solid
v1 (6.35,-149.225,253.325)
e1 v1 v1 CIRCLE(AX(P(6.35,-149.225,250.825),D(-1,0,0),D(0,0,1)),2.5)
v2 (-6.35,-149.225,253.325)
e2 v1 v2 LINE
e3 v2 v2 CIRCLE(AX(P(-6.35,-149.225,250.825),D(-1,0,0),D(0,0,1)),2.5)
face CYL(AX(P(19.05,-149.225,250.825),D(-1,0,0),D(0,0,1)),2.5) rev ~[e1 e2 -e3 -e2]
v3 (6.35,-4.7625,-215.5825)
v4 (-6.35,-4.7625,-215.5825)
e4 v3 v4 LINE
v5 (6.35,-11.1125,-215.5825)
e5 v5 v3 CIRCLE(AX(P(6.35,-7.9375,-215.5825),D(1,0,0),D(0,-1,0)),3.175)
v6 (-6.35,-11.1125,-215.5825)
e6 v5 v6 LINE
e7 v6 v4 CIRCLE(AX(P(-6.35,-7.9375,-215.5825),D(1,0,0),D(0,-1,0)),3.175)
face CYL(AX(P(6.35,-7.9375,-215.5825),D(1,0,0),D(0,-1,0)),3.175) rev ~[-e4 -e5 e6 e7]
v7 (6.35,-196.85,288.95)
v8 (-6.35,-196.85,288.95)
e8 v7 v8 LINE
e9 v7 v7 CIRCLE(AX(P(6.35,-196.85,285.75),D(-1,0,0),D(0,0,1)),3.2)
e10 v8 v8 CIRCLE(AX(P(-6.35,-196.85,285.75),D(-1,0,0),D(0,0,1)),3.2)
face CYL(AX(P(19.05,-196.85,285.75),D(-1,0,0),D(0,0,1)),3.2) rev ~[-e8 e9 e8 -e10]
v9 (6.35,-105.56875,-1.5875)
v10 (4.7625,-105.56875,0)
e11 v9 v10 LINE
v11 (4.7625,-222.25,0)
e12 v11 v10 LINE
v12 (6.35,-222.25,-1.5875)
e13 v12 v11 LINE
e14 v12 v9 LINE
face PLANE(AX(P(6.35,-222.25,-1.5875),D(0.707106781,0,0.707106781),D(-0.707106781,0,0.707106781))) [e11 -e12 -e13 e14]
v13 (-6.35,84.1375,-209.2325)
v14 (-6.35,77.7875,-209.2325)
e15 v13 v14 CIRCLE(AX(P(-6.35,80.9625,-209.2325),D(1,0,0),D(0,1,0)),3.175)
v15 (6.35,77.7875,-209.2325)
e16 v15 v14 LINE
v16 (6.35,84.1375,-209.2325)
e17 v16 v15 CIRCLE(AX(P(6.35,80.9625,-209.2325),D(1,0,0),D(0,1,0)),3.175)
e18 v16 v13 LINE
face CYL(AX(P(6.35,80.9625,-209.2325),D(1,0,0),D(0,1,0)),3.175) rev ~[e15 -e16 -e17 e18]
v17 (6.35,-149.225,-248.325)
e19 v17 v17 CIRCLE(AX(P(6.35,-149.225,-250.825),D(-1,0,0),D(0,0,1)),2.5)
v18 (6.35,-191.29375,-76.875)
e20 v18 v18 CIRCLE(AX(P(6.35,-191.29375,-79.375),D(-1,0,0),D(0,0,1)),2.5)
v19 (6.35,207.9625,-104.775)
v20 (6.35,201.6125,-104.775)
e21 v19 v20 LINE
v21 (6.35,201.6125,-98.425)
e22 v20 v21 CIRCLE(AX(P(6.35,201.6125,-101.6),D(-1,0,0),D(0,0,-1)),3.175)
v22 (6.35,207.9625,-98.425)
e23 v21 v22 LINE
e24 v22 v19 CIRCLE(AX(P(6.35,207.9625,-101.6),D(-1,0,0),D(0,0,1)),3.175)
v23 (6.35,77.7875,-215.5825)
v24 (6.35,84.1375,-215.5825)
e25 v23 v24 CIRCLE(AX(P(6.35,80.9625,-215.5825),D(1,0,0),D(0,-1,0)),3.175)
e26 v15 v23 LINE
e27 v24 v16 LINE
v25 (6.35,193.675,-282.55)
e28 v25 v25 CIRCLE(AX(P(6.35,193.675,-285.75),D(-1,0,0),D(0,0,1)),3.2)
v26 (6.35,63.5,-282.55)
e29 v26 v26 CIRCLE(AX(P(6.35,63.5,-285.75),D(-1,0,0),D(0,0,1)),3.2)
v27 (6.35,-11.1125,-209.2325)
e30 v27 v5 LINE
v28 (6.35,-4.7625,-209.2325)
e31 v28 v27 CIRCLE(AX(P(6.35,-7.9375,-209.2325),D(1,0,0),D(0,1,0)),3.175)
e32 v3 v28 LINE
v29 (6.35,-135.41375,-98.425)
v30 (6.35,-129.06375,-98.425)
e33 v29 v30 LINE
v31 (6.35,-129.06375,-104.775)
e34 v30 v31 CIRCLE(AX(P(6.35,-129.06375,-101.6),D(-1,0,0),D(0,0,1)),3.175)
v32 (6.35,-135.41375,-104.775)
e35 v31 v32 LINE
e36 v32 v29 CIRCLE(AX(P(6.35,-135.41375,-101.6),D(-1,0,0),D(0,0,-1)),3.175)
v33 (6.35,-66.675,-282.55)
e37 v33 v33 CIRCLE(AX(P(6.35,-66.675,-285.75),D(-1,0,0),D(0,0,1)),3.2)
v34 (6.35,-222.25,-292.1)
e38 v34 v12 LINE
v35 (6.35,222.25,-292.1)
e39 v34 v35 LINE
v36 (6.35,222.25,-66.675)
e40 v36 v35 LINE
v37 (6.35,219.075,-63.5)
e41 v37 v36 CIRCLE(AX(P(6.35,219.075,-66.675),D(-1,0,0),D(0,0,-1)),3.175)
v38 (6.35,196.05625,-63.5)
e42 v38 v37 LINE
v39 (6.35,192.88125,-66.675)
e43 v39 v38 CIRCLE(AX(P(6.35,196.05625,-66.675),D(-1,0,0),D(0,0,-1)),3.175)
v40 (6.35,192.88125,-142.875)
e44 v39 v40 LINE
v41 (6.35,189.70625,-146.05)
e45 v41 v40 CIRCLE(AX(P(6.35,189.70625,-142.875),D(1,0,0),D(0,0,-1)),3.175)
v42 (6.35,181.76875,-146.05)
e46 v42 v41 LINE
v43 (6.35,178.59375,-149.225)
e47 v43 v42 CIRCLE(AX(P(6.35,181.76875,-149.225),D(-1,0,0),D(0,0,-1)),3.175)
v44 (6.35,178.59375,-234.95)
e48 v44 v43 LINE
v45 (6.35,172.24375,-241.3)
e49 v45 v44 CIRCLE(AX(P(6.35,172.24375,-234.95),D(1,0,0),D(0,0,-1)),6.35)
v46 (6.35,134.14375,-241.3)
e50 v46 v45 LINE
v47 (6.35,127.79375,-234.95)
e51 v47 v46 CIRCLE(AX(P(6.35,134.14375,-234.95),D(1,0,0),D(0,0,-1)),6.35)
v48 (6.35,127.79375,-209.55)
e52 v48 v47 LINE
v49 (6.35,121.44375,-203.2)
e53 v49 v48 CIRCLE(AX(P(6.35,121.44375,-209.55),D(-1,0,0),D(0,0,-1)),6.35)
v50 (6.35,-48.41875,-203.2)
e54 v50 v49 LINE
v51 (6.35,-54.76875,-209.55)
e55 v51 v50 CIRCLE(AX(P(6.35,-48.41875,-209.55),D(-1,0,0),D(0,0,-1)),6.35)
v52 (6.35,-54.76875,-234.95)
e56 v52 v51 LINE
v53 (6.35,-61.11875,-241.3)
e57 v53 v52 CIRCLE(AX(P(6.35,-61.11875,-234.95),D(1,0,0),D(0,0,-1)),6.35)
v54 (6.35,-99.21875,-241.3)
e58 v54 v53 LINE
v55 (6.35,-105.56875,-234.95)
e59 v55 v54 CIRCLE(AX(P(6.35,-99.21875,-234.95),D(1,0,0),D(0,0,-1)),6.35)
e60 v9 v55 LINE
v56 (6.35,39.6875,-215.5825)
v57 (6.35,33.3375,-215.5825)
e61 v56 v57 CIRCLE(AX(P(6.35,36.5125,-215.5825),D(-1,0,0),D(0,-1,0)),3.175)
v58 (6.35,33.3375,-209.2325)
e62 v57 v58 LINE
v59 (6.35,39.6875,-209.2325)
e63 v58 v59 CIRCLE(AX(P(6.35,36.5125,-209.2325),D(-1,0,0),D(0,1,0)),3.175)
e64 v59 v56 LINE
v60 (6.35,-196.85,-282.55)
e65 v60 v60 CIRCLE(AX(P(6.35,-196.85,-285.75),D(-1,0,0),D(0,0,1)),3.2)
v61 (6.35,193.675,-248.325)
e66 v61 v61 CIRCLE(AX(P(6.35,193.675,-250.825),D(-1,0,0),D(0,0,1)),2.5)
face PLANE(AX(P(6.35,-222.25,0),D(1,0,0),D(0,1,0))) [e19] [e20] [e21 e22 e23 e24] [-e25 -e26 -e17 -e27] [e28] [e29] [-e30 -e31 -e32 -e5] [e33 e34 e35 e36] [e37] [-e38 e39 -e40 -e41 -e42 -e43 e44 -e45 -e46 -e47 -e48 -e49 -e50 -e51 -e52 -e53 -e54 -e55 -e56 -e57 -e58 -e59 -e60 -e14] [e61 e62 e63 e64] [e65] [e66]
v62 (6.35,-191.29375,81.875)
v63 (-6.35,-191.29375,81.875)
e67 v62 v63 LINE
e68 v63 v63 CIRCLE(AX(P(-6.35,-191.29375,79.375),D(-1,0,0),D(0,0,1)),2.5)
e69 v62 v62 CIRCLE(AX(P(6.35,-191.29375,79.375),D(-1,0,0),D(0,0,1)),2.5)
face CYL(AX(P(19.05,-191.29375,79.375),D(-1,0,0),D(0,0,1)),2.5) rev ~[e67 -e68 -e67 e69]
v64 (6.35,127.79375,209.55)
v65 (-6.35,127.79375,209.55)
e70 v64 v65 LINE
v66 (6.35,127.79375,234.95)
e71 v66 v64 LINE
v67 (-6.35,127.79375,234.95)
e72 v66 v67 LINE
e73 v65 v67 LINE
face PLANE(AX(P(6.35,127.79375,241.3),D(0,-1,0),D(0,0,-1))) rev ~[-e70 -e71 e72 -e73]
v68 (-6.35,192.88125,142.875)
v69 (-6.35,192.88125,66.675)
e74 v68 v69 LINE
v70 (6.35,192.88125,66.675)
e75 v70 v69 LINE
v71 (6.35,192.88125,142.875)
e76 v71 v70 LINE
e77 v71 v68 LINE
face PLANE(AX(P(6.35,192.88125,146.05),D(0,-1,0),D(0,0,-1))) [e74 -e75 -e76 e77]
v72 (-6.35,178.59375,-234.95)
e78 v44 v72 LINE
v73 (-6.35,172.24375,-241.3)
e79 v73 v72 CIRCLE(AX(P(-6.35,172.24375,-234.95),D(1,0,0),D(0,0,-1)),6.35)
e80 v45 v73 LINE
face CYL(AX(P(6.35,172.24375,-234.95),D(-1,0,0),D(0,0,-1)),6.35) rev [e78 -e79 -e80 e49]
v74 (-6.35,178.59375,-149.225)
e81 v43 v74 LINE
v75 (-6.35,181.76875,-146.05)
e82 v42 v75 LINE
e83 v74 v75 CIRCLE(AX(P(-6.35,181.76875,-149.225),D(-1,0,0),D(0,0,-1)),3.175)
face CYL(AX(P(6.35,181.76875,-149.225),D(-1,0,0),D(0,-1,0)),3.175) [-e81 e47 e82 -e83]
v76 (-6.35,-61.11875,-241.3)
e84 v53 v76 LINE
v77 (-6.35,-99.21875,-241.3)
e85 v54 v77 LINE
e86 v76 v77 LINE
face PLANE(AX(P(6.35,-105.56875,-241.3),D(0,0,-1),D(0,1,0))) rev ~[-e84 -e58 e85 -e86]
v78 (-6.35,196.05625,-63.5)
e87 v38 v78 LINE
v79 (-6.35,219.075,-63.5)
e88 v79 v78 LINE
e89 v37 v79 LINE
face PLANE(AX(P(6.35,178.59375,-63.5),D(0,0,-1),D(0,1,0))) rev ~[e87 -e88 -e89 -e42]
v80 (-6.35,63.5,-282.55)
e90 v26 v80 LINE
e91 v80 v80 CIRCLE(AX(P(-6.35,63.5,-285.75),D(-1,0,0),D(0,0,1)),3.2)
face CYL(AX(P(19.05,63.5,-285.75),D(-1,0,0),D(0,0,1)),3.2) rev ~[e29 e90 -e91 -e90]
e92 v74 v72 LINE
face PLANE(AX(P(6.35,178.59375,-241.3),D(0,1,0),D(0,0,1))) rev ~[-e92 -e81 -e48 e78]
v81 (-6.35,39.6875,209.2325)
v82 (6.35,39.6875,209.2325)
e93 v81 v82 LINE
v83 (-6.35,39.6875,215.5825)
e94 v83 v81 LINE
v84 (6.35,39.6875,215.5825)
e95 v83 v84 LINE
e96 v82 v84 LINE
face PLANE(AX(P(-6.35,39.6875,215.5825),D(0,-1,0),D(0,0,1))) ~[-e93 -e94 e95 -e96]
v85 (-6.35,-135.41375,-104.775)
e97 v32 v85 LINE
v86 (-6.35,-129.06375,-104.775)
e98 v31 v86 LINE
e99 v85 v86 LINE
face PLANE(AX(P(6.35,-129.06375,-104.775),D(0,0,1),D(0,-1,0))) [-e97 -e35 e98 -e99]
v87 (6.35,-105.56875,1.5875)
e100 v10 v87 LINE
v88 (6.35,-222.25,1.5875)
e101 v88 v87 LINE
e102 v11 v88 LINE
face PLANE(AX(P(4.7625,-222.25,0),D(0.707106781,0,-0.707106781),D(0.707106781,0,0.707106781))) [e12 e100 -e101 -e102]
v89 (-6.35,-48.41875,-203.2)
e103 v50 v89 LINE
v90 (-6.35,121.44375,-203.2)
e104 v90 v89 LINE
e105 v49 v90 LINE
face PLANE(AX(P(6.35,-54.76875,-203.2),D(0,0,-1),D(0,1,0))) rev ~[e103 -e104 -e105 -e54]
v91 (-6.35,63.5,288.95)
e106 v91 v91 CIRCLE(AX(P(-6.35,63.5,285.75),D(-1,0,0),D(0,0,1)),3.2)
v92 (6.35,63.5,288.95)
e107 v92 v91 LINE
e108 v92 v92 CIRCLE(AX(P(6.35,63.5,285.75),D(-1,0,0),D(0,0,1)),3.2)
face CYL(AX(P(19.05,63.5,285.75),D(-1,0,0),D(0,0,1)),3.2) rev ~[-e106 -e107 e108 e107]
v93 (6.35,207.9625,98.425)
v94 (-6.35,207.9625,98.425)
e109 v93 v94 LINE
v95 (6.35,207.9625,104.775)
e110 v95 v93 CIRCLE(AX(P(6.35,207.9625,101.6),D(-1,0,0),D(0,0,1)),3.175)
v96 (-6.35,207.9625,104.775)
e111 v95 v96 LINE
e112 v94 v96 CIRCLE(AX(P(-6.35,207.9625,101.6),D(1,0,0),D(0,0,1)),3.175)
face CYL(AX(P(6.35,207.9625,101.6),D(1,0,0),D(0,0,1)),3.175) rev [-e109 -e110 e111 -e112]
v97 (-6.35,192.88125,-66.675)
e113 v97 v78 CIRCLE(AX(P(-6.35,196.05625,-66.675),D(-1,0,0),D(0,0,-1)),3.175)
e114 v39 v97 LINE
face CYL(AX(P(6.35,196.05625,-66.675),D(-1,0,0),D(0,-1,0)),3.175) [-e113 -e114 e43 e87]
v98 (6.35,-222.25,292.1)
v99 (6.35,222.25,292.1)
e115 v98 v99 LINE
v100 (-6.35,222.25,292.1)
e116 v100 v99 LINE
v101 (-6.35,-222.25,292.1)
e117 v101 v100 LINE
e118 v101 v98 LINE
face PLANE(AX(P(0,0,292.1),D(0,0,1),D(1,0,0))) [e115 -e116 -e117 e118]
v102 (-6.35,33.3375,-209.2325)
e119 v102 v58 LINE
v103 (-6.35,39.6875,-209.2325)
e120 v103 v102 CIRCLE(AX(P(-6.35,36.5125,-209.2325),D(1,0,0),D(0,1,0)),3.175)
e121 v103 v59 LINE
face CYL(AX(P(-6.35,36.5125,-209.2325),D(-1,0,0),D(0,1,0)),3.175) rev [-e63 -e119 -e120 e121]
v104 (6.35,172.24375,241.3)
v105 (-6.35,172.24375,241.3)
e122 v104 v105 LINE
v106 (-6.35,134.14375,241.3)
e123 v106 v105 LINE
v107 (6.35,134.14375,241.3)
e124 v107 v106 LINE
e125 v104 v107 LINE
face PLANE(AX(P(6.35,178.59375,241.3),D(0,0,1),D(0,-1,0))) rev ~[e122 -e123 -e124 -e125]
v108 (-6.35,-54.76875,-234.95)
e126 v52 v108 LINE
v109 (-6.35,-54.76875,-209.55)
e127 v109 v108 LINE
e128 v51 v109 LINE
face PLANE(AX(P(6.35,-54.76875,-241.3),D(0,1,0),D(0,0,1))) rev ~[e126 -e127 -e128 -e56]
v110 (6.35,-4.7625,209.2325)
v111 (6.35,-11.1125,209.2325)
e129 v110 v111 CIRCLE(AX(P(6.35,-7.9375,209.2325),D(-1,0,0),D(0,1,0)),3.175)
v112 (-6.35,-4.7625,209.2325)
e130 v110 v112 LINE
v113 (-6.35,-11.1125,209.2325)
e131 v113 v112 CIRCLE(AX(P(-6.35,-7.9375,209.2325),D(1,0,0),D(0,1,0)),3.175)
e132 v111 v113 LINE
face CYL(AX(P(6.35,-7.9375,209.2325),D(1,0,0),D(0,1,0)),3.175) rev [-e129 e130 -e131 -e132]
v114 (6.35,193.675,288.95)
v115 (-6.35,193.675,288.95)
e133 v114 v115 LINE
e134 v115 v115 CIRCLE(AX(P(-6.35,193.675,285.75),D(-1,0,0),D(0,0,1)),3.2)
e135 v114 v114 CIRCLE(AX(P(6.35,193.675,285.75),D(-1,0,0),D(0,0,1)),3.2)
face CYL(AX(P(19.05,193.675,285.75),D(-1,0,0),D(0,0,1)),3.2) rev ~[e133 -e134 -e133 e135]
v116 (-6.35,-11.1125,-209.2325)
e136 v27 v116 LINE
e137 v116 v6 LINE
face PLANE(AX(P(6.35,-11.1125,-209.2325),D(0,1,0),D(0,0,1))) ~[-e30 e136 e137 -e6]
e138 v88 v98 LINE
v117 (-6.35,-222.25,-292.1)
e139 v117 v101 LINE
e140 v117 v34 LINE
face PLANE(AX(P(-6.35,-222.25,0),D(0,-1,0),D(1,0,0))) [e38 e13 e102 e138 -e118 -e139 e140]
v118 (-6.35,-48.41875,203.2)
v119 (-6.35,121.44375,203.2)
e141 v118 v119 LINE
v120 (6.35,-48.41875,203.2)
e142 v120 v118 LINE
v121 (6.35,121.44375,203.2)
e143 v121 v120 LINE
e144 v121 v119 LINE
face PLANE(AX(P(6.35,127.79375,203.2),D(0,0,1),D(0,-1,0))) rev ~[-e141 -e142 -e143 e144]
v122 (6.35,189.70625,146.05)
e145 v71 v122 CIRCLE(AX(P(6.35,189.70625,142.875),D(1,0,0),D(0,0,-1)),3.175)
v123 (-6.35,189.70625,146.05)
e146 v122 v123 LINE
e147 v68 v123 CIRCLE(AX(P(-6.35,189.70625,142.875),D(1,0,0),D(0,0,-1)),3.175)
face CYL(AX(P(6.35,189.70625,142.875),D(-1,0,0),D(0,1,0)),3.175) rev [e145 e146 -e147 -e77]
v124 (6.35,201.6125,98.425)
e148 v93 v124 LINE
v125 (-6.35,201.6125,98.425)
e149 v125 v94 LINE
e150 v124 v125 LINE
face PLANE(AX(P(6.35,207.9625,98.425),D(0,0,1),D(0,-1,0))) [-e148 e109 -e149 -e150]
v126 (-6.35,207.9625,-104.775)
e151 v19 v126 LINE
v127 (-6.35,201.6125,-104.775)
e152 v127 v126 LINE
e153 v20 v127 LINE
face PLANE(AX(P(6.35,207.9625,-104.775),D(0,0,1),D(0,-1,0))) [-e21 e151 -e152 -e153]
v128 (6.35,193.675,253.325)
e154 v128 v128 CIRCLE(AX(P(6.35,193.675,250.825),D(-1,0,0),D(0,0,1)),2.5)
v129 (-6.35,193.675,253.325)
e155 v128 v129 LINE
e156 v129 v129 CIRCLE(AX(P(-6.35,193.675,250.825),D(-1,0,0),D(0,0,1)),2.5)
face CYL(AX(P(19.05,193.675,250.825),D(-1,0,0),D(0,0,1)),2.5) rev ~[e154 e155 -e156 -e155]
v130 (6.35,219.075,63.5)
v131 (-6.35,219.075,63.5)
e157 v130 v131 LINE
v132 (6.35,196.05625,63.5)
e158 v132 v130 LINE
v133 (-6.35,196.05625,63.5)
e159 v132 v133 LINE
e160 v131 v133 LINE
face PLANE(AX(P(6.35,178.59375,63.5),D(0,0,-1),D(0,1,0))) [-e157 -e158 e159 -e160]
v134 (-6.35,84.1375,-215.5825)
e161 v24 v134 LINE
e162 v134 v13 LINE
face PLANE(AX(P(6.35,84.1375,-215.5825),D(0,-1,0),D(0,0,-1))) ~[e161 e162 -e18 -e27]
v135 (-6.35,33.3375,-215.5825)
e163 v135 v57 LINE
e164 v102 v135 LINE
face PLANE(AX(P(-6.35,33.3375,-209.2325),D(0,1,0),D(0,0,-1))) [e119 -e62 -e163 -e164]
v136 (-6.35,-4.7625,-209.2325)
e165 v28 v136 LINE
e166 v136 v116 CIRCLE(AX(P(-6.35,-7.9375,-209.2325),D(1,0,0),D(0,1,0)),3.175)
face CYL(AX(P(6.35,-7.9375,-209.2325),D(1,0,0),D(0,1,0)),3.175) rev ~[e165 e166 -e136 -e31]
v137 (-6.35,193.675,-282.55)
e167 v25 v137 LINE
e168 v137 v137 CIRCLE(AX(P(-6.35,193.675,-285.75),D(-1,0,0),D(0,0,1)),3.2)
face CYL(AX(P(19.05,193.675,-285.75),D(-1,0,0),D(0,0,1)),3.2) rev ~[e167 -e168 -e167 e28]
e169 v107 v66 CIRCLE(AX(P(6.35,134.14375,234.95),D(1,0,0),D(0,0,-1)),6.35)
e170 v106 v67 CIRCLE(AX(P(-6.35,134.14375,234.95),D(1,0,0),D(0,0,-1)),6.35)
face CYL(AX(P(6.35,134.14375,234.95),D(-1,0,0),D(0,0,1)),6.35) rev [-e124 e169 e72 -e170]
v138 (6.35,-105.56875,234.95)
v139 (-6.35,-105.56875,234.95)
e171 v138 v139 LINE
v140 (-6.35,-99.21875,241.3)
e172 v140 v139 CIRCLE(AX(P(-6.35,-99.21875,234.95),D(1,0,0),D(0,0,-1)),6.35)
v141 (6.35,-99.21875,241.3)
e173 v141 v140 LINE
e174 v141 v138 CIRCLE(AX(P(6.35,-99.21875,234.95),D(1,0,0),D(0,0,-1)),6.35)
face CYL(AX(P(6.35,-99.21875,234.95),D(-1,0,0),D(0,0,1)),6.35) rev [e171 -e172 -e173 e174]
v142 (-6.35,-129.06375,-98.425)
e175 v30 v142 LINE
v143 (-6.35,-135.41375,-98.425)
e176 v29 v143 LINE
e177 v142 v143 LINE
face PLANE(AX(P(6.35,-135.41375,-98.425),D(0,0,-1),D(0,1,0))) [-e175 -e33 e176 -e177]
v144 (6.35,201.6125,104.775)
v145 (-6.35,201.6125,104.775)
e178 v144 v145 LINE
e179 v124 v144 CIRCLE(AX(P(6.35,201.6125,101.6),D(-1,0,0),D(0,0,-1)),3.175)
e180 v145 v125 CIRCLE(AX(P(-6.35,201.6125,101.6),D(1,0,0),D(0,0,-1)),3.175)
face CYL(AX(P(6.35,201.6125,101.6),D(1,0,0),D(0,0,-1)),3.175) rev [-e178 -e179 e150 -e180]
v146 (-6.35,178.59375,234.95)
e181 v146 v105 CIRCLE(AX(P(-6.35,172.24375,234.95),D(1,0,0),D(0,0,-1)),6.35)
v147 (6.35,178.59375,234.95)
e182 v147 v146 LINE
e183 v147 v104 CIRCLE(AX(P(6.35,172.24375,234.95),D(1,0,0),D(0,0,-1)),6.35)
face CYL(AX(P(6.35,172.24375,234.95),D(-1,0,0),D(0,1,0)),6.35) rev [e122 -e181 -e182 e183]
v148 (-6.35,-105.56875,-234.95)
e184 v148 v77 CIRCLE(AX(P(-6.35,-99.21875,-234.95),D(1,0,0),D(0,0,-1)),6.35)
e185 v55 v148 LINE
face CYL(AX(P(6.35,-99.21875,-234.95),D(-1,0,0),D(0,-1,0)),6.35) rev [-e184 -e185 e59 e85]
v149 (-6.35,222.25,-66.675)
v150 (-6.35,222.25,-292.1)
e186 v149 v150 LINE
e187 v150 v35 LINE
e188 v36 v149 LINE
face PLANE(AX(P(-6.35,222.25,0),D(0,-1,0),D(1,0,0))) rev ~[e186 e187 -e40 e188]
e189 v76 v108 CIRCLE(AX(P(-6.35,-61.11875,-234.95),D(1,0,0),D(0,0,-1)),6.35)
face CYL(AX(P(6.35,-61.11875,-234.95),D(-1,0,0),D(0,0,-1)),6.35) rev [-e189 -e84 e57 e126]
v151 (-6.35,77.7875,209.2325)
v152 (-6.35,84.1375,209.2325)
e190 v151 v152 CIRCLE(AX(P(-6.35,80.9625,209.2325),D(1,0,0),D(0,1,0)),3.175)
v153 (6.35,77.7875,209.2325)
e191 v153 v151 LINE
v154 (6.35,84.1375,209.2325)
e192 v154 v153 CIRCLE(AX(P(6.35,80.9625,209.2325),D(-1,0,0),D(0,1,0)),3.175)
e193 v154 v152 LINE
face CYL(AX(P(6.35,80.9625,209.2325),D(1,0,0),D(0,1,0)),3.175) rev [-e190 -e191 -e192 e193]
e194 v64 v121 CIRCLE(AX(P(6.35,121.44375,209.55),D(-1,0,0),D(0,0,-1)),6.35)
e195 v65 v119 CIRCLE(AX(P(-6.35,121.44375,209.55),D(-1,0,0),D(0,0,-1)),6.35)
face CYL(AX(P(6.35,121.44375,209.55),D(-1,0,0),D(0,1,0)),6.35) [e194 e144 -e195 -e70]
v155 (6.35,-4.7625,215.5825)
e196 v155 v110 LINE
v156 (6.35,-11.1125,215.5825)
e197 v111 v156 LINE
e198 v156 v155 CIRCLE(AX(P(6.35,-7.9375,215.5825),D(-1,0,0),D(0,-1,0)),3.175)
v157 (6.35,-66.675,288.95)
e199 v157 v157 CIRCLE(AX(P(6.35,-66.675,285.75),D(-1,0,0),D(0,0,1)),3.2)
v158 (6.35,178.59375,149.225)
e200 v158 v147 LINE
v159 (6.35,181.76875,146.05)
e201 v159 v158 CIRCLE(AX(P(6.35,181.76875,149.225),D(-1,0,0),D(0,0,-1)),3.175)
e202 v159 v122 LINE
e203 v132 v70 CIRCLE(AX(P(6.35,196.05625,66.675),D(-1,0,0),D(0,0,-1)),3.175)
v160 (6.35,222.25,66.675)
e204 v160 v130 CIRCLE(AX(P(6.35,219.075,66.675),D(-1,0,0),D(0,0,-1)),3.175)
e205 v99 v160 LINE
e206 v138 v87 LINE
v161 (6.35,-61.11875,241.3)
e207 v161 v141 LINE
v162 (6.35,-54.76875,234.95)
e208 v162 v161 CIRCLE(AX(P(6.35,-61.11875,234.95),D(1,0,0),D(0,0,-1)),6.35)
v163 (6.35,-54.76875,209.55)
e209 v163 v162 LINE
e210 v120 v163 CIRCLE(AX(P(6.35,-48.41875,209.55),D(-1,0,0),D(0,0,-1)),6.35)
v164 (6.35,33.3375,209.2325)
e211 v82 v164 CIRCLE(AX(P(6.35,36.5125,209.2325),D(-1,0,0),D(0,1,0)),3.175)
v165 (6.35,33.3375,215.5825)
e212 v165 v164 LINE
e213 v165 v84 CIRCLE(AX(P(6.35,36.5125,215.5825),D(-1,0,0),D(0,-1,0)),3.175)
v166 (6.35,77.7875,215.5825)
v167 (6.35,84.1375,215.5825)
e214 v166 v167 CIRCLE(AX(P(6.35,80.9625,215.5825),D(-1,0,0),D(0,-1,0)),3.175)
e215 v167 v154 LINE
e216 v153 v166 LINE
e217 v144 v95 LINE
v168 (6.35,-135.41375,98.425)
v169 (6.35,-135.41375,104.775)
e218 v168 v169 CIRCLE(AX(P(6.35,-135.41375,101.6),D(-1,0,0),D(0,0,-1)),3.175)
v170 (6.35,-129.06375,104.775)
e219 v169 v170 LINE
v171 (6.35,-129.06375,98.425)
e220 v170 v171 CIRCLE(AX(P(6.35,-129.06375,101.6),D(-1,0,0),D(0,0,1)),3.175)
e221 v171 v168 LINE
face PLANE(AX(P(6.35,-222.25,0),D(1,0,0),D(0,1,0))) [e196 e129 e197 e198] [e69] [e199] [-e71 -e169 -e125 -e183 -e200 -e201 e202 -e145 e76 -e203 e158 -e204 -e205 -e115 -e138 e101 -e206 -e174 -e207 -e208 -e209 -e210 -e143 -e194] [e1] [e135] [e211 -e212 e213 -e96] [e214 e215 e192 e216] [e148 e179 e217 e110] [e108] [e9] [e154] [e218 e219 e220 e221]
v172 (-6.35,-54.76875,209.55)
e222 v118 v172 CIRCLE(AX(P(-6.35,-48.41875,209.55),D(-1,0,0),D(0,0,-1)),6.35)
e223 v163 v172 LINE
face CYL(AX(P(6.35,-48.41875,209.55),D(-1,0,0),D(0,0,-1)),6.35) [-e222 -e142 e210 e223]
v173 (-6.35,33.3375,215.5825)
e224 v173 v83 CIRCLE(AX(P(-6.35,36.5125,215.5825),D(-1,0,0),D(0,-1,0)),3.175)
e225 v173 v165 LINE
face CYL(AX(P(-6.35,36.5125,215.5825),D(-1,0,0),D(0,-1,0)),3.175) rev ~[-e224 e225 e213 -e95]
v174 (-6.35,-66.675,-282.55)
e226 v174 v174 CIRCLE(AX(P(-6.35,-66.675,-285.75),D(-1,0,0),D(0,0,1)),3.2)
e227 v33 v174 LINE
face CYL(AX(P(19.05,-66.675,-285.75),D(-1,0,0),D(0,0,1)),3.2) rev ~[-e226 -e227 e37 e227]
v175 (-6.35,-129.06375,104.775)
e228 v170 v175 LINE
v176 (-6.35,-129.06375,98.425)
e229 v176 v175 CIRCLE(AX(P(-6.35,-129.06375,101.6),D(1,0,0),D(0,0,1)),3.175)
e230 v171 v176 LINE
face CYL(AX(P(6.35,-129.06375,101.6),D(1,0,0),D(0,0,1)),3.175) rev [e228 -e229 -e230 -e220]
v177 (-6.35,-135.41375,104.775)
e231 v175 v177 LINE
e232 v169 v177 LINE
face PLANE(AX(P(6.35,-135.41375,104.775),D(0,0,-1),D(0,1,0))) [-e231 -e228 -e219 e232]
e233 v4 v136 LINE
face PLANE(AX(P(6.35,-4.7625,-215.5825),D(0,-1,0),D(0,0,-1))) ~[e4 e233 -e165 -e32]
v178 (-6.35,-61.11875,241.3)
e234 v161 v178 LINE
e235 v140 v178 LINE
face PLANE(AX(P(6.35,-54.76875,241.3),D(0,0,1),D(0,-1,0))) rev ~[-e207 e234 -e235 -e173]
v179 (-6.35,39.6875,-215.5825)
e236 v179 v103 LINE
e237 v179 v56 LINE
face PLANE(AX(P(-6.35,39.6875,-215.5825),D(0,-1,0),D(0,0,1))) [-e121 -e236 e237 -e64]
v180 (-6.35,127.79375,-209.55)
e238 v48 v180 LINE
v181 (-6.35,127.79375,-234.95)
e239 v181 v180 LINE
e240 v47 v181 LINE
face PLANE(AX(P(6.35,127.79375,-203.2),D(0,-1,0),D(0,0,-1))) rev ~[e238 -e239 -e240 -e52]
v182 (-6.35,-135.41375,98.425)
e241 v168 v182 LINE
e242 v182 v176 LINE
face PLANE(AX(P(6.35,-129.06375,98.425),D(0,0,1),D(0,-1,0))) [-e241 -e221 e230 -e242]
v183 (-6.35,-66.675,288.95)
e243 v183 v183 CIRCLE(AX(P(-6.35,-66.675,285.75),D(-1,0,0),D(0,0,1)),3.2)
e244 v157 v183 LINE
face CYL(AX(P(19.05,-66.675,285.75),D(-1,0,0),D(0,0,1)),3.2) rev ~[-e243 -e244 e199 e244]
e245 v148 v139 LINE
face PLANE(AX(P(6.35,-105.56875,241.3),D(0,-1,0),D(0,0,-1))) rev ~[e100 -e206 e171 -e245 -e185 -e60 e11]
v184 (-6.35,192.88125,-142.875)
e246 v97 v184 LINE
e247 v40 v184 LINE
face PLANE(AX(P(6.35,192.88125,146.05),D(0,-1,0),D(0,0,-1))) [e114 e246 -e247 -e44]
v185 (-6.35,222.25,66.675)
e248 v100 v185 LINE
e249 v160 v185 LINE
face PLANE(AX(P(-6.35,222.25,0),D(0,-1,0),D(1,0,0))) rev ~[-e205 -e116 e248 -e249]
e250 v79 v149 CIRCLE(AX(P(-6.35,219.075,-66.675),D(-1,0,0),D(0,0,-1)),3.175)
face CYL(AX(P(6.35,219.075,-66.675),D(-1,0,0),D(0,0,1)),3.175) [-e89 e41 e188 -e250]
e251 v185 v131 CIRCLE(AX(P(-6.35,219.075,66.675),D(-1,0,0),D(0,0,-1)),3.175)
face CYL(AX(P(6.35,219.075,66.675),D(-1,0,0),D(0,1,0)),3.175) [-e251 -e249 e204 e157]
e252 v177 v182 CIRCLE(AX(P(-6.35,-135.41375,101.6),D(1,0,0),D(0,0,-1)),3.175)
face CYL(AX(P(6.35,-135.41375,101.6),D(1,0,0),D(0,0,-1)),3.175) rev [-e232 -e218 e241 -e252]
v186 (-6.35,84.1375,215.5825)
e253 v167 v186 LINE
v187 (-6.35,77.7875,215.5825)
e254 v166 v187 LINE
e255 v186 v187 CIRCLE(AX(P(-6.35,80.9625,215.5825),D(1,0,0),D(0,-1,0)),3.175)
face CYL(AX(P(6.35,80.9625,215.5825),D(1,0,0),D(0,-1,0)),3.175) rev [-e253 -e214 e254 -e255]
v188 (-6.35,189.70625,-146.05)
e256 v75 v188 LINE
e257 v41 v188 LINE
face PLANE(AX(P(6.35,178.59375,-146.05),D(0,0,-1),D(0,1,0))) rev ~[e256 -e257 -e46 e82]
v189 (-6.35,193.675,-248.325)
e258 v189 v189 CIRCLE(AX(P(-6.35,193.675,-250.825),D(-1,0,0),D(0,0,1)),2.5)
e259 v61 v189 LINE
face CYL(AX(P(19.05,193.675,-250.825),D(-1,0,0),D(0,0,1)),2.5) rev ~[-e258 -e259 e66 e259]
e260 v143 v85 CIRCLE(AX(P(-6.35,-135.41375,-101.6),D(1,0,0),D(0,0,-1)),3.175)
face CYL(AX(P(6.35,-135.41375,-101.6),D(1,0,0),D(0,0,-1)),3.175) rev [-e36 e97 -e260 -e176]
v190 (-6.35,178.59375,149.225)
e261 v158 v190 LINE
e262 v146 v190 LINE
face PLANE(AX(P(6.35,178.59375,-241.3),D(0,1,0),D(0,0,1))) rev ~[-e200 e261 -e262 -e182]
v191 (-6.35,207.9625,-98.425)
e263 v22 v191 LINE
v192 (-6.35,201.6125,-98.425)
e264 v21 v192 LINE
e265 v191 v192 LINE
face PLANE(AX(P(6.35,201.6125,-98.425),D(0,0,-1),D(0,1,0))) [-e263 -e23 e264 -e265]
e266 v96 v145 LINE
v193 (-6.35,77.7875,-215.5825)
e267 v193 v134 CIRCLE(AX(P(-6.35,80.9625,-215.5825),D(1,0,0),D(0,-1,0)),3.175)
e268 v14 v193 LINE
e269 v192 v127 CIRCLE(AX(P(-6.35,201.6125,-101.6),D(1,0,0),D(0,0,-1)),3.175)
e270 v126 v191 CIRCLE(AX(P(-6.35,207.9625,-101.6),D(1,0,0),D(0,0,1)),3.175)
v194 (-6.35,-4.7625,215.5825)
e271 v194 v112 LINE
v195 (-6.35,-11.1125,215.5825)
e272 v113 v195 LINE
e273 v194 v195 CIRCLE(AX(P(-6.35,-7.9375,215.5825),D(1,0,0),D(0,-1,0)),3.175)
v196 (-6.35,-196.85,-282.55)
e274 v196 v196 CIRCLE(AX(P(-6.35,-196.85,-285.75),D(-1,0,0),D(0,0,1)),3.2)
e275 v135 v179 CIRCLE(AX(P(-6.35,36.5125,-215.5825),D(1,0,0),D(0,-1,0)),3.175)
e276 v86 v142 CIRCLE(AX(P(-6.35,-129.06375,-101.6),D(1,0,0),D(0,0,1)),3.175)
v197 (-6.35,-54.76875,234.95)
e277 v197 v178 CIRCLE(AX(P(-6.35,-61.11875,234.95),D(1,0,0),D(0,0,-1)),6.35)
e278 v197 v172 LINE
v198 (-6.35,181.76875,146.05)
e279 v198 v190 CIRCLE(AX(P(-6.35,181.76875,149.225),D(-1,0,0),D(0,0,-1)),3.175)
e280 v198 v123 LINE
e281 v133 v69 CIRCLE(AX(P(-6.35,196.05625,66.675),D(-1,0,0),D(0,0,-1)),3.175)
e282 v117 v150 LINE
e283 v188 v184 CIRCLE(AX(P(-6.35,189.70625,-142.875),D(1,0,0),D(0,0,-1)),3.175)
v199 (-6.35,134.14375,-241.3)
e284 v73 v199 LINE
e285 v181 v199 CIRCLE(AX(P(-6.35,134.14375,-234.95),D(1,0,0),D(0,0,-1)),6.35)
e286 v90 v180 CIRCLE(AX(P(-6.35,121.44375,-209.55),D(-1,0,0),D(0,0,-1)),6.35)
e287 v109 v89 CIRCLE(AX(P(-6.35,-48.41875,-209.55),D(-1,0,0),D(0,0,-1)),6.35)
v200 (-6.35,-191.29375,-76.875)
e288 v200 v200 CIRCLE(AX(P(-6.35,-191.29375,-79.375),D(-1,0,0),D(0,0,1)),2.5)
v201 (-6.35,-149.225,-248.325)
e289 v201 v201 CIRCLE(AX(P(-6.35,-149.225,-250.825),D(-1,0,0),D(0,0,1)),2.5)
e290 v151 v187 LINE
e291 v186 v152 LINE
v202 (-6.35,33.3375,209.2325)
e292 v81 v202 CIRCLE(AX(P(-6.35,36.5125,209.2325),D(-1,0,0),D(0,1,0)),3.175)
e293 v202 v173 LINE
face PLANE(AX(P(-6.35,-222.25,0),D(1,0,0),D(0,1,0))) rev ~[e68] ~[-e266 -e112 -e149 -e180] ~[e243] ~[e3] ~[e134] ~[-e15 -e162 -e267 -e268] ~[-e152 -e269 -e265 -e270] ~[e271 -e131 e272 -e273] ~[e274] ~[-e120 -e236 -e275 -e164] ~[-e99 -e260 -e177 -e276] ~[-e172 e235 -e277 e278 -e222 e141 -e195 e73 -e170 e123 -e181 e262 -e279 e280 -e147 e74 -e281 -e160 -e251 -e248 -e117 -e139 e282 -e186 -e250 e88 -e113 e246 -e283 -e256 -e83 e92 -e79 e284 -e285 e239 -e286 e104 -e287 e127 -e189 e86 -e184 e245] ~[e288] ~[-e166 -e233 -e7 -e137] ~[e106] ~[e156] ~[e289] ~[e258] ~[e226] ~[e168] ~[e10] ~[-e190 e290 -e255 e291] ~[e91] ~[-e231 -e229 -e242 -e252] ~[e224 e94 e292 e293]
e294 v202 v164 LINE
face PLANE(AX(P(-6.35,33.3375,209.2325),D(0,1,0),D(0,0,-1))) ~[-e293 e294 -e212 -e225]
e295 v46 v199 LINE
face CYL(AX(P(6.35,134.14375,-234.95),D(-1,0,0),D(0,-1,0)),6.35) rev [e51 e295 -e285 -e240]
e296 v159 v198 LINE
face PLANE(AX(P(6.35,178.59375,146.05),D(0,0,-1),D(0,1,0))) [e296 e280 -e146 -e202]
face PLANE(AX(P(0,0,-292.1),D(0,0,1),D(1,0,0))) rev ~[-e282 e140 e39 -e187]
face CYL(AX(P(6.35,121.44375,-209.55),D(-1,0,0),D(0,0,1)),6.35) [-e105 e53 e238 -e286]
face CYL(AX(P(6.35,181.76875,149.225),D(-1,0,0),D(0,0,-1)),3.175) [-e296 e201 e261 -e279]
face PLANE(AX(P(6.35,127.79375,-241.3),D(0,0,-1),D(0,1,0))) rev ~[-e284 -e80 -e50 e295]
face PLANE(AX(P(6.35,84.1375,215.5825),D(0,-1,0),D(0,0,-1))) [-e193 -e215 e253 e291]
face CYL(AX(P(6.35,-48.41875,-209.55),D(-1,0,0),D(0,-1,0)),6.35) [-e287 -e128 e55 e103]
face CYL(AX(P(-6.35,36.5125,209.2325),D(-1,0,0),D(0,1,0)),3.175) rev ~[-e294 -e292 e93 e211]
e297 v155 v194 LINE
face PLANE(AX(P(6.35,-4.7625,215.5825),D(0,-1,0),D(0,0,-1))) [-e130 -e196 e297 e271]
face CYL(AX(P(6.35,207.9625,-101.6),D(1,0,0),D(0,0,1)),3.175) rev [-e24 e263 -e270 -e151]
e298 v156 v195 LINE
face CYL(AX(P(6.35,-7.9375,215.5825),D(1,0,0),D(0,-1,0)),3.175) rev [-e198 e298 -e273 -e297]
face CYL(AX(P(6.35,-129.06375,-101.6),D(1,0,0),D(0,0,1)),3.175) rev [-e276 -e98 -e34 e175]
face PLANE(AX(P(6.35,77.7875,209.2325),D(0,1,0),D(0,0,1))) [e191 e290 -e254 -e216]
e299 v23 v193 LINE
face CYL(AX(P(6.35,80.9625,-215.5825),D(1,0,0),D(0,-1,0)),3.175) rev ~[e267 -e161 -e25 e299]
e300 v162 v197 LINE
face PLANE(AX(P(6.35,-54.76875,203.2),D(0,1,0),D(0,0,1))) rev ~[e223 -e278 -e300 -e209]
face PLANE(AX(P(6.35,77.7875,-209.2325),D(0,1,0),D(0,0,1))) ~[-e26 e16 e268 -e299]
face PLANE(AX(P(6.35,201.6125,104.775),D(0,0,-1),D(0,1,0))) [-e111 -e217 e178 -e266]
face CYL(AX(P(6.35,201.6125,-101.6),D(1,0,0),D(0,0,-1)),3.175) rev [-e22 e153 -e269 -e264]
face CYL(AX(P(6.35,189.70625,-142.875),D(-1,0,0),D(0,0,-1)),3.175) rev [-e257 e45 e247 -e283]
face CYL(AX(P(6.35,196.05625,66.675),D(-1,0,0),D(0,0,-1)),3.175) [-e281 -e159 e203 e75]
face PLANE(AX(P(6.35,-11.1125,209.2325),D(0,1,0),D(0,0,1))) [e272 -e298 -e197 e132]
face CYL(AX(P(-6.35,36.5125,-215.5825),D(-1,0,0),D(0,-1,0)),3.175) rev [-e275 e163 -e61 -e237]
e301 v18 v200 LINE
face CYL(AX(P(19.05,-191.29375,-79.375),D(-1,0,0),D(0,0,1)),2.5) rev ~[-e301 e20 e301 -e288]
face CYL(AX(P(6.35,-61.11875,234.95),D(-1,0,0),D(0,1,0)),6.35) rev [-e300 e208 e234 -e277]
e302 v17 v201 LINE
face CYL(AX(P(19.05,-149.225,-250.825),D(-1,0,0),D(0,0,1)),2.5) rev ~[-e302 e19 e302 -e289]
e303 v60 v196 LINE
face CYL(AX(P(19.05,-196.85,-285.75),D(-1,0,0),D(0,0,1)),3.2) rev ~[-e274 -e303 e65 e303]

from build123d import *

# Parameters (mm, degrees)
SKETCH1_W                 = 12.7
SKETCH1_H                 = 444.5
EXTRUDE1_DEPTH            = 292.1
EXTRUDE1_DEPTH_BACK       = 292.1
CUT_EXTRUDE1_REACH        = 14.7
CUT_EXTRUDE2_REACH        = 14.7
SKETCH5_W                 = 127
SKETCH5_H                 = 43.65625
FILLET2_R                 = 6.35
M6X1_0_TAPPED_HOLE1_D     = 5
M6X1_0_TAPPED_HOLE1_DEPTH = 12.7
SKETCH11_W                = 292.1
SKETCH11_H                = 14.2875
CUT_EXTRUDE3_DEPTH        = 13.7
FILLET3_R                 = 3.175
CUT_EXTRUDE7_DEPTH        = 1
CUT_EXTRUDE7_DEPTH_BACK   = 445.5
CUT_EXTRUDE8_REACH        = 14.7
M6X1_0_TAPPED_HOLE2_D     = 5
M6X1_0_TAPPED_HOLE2_DEPTH = 12.7
M6_CLEARANCE_HOLE1_D      = 6.4
M6_CLEARANCE_HOLE1_DEPTH  = 12.7
CUT_EXTRUDE9_DEPTH        = 13.7
CUT_EXTRUDE10_DEPTH       = 13.7


with BuildPart() as part:
    # Sketch1 → Extrude1 (new body, two sides)
    with BuildSketch(Plane.XY) as extrude1_sk:
        Rectangle(SKETCH1_W, SKETCH1_H)
    extrude(amount=EXTRUDE1_DEPTH)
    extrude(extrude1_sk.sketch, amount=-EXTRUDE1_DEPTH_BACK)

    # Sketch4 → Cut-Extrude1 (cut, up to next)
    with BuildSketch(Plane(origin=(6.35, 0, 0), x_dir=(0, 0, -1), z_dir=(1, 0, 0)), mode=Mode.PRIVATE) as cut_extrude1_sk1:
        Polygon((203.2, 127.79375), (241.3, 127.79375), (241.3, 178.59375), (-241.3, 178.59375), (-241.3, 127.79375), (-203.2, 127.79375), (-203.2, -54.76875), (-241.3, -54.76875), (-241.3, -105.56875), (241.3, -105.56875), (241.3, -54.76875), (203.2, -54.76875), align=None)
    cut_extrude1_tool1 = extrude(cut_extrude1_sk1.sketch, amount=-CUT_EXTRUDE1_REACH, mode=Mode.PRIVATE) & part.part
    add(cut_extrude1_tool1.solids().sort_by_distance((6.35, 36.5125, 0))[0], mode=Mode.SUBTRACT)

    # Sketch5 → Cut-Extrude2 (cut, up to next)
    with BuildSketch(Plane(origin=(6.35, 0, 0), x_dir=(0, 0, -1), z_dir=(1, 0, 0)), mode=Mode.PRIVATE) as cut_extrude2_sk1:
        with Locations((0, 200.421875)):
            Rectangle(SKETCH5_W, SKETCH5_H)
    cut_extrude2_tool1 = extrude(cut_extrude2_sk1.sketch, amount=-CUT_EXTRUDE2_REACH, mode=Mode.PRIVATE) & part.part
    add(cut_extrude2_tool1.solids().sort_by_distance((6.35, 200.421875, 0))[0], mode=Mode.SUBTRACT)

    # Fillet2
    fillet2_edges = [part.edges().sort_by_distance(p)[0] for p in [
        (0, 127.79375, -203.2),
        (0, -54.76875, -203.2),
        (0, -54.76875, -241.3),
        (0, -105.56875, -241.3),
        (0, -105.56875, 241.3),
        (0, -54.76875, 241.3),
        (0, -54.76875, 203.2),
        (0, 127.79375, 203.2),
        (0, 127.79375, 241.3),
        (0, 178.59375, 241.3),
        (0, 178.59375, -241.3),
        (0, 127.79375, -241.3),
    ]]
    fillet(fillet2_edges, radius=FILLET2_R)

    # M6x1.0 Tapped Hole1
    with Locations(Plane(origin=(6.35, 0, 0), x_dir=(0, 0, -1), z_dir=(1, 0, 0))):
        with Locations((101.6, 204.7875), (-101.6, 204.7875), (101.6, -132.23875), (-101.6, -132.23875)):
            Hole(M6X1_0_TAPPED_HOLE1_D / 2, depth=M6X1_0_TAPPED_HOLE1_DEPTH)

    # Sketch11 → Cut-Extrude3 (cut, through all)
    with BuildSketch(Plane(origin=(6.35, 0, 0), x_dir=(0, 0, -1), z_dir=(1, 0, 0))):
        with Locations((0, 185.7375)):
            Rectangle(SKETCH11_W, SKETCH11_H)
    extrude(amount=-CUT_EXTRUDE3_DEPTH, mode=Mode.SUBTRACT)

    # Fillet3
    fillet3_edges = [part.edges().sort_by_distance(p)[0] for p in [
        (0, 192.88125, 63.5),
        (0, 192.88125, -63.5),
        (0, 192.88125, 146.05),
        (0, 178.59375, -146.05),
        (0, 178.59375, 146.05),
        (0, 192.88125, -146.05),
        (0, 222.25, 63.5),
        (0, 222.25, -63.5),
    ]]
    fillet(fillet3_edges, radius=FILLET3_R)

    # Sketch18 → Cut-Extrude7 (cut, two sides)
    with BuildSketch(Plane.XZ.offset(222.25)) as cut_extrude7_sk:
        Polygon((6.35, 1.5875), (6.35, -1.5875), (4.7625, 0), align=None)
    extrude(amount=CUT_EXTRUDE7_DEPTH, mode=Mode.SUBTRACT)
    extrude(cut_extrude7_sk.sketch, amount=-CUT_EXTRUDE7_DEPTH_BACK, mode=Mode.SUBTRACT)

    # Sketch19 → Cut-Extrude8 (cut, up to next)
    with BuildSketch(Plane(origin=(6.35, 0, 0), x_dir=(0, 0, -1), z_dir=(1, 0, 0)), mode=Mode.PRIVATE) as cut_extrude8_sk1:
        with BuildLine():
            Line((104.775, 207.9625), (104.775, 201.6125))
            ThreePointArc((104.775, 201.6125), (101.6, 198.4375), (98.425, 201.6125))
            Line((98.425, 201.6125), (98.425, 207.9625))
            ThreePointArc((98.425, 207.9625), (101.6, 211.1375), (104.775, 207.9625))
        make_face()
    cut_extrude8_tool1 = extrude(cut_extrude8_sk1.sketch, amount=-CUT_EXTRUDE8_REACH, mode=Mode.PRIVATE) & part.part
    add(cut_extrude8_tool1.solids().sort_by_distance((6.35, 204.7875, -101.6))[0], mode=Mode.SUBTRACT)
    # Sketch19 → Cut-Extrude8 (cut, up to next)
    with BuildSketch(Plane(origin=(6.35, 0, 0), x_dir=(0, 0, -1), z_dir=(1, 0, 0)), mode=Mode.PRIVATE) as cut_extrude8_sk2:
        with BuildLine():
            Line((-98.425, 207.9625), (-98.425, 201.6125))
            ThreePointArc((-98.425, 201.6125), (-101.6, 198.4375), (-104.775, 201.6125))
            Line((-104.775, 201.6125), (-104.775, 207.9625))
            ThreePointArc((-104.775, 207.9625), (-101.6, 211.1375), (-98.425, 207.9625))
        make_face()
    cut_extrude8_tool2 = extrude(cut_extrude8_sk2.sketch, amount=-CUT_EXTRUDE8_REACH, mode=Mode.PRIVATE) & part.part
    add(cut_extrude8_tool2.solids().sort_by_distance((6.35, 204.7875, 101.6))[0], mode=Mode.SUBTRACT)
    # Sketch19 → Cut-Extrude8 (cut, up to next)
    with BuildSketch(Plane(origin=(6.35, 0, 0), x_dir=(0, 0, -1), z_dir=(1, 0, 0)), mode=Mode.PRIVATE) as cut_extrude8_sk3:
        with BuildLine():
            Line((-98.425, -129.06375), (-98.425, -135.41375))
            ThreePointArc((-98.425, -135.41375), (-101.6, -138.58875), (-104.775, -135.41375))
            Line((-104.775, -135.41375), (-104.775, -129.06375))
            ThreePointArc((-104.775, -129.06375), (-101.6, -125.88875), (-98.425, -129.06375))
        make_face()
    cut_extrude8_tool3 = extrude(cut_extrude8_sk3.sketch, amount=-CUT_EXTRUDE8_REACH, mode=Mode.PRIVATE) & part.part
    add(cut_extrude8_tool3.solids().sort_by_distance((6.35, -132.23875, 101.6))[0], mode=Mode.SUBTRACT)
    # Sketch19 → Cut-Extrude8 (cut, up to next)
    with BuildSketch(Plane(origin=(6.35, 0, 0), x_dir=(0, 0, -1), z_dir=(1, 0, 0)), mode=Mode.PRIVATE) as cut_extrude8_sk4:
        with BuildLine():
            Line((104.775, -129.06375), (104.775, -135.41375))
            ThreePointArc((104.775, -135.41375), (101.6, -138.58875), (98.425, -135.41375))
            Line((98.425, -135.41375), (98.425, -129.06375))
            ThreePointArc((98.425, -129.06375), (101.6, -125.88875), (104.775, -129.06375))
        make_face()
    cut_extrude8_tool4 = extrude(cut_extrude8_sk4.sketch, amount=-CUT_EXTRUDE8_REACH, mode=Mode.PRIVATE) & part.part
    add(cut_extrude8_tool4.solids().sort_by_distance((6.35, -132.23875, -101.6))[0], mode=Mode.SUBTRACT)

    # M6x1.0 Tapped Hole2
    with Locations(Plane(origin=(6.35, 0, 0), x_dir=(0, 0, -1), z_dir=(1, 0, 0))):
        with Locations((79.375, -191.29375), (-79.375, -191.29375), (250.825, -149.225), (250.825, 193.675), (-250.825, 193.675), (-250.825, -149.225)):
            Hole(M6X1_0_TAPPED_HOLE2_D / 2, depth=M6X1_0_TAPPED_HOLE2_DEPTH)

    # M6 Clearance Hole1
    with Locations(Plane(origin=(6.35, 0, 0), x_dir=(0, 0, -1), z_dir=(1, 0, 0))):
        with Locations((-285.75, -196.85), (-285.75, -66.675), (-285.75, 193.675), (-285.75, 63.5), (285.75, 193.675), (285.75, 63.5), (285.75, -66.675), (285.75, -196.85)):
            Hole(M6_CLEARANCE_HOLE1_D / 2, depth=M6_CLEARANCE_HOLE1_DEPTH)

    # Sketch27 → Cut-Extrude9 (cut, through all)
    with BuildSketch(Plane.ZY.offset(6.35)):
        with BuildLine():
            Line((-209.2325, 33.3375), (-215.5825, 33.3375))
            ThreePointArc((-215.5825, 33.3375), (-218.7575, 36.5125), (-215.5825, 39.6875))
            Line((-215.5825, 39.6875), (-209.2325, 39.6875))
            ThreePointArc((-209.2325, 39.6875), (-206.0575, 36.5125), (-209.2325, 33.3375))
        make_face()
    cut_extrude9 = extrude(amount=-CUT_EXTRUDE9_DEPTH, mode=Mode.SUBTRACT)

    # Mirror1: Cut-Extrude9 across plane
    add(cut_extrude9.mirror(Plane.XY), mode=Mode.SUBTRACT)

    # Sketch29 → Cut-Extrude10 (cut, through all)
    with BuildSketch(Plane(origin=(6.35, 0, 0), x_dir=(0, 0, -1), z_dir=(1, 0, 0))):
        with BuildLine():
            Line((-215.5825, 84.1375), (-209.2325, 84.1375))
            ThreePointArc((-209.2325, 84.1375), (-206.0575, 80.9625), (-209.2325, 77.7875))
            Line((-209.2325, 77.7875), (-215.5825, 77.7875))
            ThreePointArc((-215.5825, 77.7875), (-218.7575, 80.9625), (-215.5825, 84.1375))
        make_face()
        with BuildLine():
            Line((-215.5825, -4.7625), (-209.2325, -4.7625))
            ThreePointArc((-209.2325, -4.7625), (-206.0575, -7.9375), (-209.2325, -11.1125))
            Line((-209.2325, -11.1125), (-215.5825, -11.1125))
            ThreePointArc((-215.5825, -11.1125), (-218.7575, -7.9375), (-215.5825, -4.7625))
        make_face()
    cut_extrude10 = extrude(amount=-CUT_EXTRUDE10_DEPTH, mode=Mode.SUBTRACT)

    # Mirror2: Cut-Extrude10 across plane
    add(cut_extrude10.mirror(Plane.XY), mode=Mode.SUBTRACT)


solid = part.part
